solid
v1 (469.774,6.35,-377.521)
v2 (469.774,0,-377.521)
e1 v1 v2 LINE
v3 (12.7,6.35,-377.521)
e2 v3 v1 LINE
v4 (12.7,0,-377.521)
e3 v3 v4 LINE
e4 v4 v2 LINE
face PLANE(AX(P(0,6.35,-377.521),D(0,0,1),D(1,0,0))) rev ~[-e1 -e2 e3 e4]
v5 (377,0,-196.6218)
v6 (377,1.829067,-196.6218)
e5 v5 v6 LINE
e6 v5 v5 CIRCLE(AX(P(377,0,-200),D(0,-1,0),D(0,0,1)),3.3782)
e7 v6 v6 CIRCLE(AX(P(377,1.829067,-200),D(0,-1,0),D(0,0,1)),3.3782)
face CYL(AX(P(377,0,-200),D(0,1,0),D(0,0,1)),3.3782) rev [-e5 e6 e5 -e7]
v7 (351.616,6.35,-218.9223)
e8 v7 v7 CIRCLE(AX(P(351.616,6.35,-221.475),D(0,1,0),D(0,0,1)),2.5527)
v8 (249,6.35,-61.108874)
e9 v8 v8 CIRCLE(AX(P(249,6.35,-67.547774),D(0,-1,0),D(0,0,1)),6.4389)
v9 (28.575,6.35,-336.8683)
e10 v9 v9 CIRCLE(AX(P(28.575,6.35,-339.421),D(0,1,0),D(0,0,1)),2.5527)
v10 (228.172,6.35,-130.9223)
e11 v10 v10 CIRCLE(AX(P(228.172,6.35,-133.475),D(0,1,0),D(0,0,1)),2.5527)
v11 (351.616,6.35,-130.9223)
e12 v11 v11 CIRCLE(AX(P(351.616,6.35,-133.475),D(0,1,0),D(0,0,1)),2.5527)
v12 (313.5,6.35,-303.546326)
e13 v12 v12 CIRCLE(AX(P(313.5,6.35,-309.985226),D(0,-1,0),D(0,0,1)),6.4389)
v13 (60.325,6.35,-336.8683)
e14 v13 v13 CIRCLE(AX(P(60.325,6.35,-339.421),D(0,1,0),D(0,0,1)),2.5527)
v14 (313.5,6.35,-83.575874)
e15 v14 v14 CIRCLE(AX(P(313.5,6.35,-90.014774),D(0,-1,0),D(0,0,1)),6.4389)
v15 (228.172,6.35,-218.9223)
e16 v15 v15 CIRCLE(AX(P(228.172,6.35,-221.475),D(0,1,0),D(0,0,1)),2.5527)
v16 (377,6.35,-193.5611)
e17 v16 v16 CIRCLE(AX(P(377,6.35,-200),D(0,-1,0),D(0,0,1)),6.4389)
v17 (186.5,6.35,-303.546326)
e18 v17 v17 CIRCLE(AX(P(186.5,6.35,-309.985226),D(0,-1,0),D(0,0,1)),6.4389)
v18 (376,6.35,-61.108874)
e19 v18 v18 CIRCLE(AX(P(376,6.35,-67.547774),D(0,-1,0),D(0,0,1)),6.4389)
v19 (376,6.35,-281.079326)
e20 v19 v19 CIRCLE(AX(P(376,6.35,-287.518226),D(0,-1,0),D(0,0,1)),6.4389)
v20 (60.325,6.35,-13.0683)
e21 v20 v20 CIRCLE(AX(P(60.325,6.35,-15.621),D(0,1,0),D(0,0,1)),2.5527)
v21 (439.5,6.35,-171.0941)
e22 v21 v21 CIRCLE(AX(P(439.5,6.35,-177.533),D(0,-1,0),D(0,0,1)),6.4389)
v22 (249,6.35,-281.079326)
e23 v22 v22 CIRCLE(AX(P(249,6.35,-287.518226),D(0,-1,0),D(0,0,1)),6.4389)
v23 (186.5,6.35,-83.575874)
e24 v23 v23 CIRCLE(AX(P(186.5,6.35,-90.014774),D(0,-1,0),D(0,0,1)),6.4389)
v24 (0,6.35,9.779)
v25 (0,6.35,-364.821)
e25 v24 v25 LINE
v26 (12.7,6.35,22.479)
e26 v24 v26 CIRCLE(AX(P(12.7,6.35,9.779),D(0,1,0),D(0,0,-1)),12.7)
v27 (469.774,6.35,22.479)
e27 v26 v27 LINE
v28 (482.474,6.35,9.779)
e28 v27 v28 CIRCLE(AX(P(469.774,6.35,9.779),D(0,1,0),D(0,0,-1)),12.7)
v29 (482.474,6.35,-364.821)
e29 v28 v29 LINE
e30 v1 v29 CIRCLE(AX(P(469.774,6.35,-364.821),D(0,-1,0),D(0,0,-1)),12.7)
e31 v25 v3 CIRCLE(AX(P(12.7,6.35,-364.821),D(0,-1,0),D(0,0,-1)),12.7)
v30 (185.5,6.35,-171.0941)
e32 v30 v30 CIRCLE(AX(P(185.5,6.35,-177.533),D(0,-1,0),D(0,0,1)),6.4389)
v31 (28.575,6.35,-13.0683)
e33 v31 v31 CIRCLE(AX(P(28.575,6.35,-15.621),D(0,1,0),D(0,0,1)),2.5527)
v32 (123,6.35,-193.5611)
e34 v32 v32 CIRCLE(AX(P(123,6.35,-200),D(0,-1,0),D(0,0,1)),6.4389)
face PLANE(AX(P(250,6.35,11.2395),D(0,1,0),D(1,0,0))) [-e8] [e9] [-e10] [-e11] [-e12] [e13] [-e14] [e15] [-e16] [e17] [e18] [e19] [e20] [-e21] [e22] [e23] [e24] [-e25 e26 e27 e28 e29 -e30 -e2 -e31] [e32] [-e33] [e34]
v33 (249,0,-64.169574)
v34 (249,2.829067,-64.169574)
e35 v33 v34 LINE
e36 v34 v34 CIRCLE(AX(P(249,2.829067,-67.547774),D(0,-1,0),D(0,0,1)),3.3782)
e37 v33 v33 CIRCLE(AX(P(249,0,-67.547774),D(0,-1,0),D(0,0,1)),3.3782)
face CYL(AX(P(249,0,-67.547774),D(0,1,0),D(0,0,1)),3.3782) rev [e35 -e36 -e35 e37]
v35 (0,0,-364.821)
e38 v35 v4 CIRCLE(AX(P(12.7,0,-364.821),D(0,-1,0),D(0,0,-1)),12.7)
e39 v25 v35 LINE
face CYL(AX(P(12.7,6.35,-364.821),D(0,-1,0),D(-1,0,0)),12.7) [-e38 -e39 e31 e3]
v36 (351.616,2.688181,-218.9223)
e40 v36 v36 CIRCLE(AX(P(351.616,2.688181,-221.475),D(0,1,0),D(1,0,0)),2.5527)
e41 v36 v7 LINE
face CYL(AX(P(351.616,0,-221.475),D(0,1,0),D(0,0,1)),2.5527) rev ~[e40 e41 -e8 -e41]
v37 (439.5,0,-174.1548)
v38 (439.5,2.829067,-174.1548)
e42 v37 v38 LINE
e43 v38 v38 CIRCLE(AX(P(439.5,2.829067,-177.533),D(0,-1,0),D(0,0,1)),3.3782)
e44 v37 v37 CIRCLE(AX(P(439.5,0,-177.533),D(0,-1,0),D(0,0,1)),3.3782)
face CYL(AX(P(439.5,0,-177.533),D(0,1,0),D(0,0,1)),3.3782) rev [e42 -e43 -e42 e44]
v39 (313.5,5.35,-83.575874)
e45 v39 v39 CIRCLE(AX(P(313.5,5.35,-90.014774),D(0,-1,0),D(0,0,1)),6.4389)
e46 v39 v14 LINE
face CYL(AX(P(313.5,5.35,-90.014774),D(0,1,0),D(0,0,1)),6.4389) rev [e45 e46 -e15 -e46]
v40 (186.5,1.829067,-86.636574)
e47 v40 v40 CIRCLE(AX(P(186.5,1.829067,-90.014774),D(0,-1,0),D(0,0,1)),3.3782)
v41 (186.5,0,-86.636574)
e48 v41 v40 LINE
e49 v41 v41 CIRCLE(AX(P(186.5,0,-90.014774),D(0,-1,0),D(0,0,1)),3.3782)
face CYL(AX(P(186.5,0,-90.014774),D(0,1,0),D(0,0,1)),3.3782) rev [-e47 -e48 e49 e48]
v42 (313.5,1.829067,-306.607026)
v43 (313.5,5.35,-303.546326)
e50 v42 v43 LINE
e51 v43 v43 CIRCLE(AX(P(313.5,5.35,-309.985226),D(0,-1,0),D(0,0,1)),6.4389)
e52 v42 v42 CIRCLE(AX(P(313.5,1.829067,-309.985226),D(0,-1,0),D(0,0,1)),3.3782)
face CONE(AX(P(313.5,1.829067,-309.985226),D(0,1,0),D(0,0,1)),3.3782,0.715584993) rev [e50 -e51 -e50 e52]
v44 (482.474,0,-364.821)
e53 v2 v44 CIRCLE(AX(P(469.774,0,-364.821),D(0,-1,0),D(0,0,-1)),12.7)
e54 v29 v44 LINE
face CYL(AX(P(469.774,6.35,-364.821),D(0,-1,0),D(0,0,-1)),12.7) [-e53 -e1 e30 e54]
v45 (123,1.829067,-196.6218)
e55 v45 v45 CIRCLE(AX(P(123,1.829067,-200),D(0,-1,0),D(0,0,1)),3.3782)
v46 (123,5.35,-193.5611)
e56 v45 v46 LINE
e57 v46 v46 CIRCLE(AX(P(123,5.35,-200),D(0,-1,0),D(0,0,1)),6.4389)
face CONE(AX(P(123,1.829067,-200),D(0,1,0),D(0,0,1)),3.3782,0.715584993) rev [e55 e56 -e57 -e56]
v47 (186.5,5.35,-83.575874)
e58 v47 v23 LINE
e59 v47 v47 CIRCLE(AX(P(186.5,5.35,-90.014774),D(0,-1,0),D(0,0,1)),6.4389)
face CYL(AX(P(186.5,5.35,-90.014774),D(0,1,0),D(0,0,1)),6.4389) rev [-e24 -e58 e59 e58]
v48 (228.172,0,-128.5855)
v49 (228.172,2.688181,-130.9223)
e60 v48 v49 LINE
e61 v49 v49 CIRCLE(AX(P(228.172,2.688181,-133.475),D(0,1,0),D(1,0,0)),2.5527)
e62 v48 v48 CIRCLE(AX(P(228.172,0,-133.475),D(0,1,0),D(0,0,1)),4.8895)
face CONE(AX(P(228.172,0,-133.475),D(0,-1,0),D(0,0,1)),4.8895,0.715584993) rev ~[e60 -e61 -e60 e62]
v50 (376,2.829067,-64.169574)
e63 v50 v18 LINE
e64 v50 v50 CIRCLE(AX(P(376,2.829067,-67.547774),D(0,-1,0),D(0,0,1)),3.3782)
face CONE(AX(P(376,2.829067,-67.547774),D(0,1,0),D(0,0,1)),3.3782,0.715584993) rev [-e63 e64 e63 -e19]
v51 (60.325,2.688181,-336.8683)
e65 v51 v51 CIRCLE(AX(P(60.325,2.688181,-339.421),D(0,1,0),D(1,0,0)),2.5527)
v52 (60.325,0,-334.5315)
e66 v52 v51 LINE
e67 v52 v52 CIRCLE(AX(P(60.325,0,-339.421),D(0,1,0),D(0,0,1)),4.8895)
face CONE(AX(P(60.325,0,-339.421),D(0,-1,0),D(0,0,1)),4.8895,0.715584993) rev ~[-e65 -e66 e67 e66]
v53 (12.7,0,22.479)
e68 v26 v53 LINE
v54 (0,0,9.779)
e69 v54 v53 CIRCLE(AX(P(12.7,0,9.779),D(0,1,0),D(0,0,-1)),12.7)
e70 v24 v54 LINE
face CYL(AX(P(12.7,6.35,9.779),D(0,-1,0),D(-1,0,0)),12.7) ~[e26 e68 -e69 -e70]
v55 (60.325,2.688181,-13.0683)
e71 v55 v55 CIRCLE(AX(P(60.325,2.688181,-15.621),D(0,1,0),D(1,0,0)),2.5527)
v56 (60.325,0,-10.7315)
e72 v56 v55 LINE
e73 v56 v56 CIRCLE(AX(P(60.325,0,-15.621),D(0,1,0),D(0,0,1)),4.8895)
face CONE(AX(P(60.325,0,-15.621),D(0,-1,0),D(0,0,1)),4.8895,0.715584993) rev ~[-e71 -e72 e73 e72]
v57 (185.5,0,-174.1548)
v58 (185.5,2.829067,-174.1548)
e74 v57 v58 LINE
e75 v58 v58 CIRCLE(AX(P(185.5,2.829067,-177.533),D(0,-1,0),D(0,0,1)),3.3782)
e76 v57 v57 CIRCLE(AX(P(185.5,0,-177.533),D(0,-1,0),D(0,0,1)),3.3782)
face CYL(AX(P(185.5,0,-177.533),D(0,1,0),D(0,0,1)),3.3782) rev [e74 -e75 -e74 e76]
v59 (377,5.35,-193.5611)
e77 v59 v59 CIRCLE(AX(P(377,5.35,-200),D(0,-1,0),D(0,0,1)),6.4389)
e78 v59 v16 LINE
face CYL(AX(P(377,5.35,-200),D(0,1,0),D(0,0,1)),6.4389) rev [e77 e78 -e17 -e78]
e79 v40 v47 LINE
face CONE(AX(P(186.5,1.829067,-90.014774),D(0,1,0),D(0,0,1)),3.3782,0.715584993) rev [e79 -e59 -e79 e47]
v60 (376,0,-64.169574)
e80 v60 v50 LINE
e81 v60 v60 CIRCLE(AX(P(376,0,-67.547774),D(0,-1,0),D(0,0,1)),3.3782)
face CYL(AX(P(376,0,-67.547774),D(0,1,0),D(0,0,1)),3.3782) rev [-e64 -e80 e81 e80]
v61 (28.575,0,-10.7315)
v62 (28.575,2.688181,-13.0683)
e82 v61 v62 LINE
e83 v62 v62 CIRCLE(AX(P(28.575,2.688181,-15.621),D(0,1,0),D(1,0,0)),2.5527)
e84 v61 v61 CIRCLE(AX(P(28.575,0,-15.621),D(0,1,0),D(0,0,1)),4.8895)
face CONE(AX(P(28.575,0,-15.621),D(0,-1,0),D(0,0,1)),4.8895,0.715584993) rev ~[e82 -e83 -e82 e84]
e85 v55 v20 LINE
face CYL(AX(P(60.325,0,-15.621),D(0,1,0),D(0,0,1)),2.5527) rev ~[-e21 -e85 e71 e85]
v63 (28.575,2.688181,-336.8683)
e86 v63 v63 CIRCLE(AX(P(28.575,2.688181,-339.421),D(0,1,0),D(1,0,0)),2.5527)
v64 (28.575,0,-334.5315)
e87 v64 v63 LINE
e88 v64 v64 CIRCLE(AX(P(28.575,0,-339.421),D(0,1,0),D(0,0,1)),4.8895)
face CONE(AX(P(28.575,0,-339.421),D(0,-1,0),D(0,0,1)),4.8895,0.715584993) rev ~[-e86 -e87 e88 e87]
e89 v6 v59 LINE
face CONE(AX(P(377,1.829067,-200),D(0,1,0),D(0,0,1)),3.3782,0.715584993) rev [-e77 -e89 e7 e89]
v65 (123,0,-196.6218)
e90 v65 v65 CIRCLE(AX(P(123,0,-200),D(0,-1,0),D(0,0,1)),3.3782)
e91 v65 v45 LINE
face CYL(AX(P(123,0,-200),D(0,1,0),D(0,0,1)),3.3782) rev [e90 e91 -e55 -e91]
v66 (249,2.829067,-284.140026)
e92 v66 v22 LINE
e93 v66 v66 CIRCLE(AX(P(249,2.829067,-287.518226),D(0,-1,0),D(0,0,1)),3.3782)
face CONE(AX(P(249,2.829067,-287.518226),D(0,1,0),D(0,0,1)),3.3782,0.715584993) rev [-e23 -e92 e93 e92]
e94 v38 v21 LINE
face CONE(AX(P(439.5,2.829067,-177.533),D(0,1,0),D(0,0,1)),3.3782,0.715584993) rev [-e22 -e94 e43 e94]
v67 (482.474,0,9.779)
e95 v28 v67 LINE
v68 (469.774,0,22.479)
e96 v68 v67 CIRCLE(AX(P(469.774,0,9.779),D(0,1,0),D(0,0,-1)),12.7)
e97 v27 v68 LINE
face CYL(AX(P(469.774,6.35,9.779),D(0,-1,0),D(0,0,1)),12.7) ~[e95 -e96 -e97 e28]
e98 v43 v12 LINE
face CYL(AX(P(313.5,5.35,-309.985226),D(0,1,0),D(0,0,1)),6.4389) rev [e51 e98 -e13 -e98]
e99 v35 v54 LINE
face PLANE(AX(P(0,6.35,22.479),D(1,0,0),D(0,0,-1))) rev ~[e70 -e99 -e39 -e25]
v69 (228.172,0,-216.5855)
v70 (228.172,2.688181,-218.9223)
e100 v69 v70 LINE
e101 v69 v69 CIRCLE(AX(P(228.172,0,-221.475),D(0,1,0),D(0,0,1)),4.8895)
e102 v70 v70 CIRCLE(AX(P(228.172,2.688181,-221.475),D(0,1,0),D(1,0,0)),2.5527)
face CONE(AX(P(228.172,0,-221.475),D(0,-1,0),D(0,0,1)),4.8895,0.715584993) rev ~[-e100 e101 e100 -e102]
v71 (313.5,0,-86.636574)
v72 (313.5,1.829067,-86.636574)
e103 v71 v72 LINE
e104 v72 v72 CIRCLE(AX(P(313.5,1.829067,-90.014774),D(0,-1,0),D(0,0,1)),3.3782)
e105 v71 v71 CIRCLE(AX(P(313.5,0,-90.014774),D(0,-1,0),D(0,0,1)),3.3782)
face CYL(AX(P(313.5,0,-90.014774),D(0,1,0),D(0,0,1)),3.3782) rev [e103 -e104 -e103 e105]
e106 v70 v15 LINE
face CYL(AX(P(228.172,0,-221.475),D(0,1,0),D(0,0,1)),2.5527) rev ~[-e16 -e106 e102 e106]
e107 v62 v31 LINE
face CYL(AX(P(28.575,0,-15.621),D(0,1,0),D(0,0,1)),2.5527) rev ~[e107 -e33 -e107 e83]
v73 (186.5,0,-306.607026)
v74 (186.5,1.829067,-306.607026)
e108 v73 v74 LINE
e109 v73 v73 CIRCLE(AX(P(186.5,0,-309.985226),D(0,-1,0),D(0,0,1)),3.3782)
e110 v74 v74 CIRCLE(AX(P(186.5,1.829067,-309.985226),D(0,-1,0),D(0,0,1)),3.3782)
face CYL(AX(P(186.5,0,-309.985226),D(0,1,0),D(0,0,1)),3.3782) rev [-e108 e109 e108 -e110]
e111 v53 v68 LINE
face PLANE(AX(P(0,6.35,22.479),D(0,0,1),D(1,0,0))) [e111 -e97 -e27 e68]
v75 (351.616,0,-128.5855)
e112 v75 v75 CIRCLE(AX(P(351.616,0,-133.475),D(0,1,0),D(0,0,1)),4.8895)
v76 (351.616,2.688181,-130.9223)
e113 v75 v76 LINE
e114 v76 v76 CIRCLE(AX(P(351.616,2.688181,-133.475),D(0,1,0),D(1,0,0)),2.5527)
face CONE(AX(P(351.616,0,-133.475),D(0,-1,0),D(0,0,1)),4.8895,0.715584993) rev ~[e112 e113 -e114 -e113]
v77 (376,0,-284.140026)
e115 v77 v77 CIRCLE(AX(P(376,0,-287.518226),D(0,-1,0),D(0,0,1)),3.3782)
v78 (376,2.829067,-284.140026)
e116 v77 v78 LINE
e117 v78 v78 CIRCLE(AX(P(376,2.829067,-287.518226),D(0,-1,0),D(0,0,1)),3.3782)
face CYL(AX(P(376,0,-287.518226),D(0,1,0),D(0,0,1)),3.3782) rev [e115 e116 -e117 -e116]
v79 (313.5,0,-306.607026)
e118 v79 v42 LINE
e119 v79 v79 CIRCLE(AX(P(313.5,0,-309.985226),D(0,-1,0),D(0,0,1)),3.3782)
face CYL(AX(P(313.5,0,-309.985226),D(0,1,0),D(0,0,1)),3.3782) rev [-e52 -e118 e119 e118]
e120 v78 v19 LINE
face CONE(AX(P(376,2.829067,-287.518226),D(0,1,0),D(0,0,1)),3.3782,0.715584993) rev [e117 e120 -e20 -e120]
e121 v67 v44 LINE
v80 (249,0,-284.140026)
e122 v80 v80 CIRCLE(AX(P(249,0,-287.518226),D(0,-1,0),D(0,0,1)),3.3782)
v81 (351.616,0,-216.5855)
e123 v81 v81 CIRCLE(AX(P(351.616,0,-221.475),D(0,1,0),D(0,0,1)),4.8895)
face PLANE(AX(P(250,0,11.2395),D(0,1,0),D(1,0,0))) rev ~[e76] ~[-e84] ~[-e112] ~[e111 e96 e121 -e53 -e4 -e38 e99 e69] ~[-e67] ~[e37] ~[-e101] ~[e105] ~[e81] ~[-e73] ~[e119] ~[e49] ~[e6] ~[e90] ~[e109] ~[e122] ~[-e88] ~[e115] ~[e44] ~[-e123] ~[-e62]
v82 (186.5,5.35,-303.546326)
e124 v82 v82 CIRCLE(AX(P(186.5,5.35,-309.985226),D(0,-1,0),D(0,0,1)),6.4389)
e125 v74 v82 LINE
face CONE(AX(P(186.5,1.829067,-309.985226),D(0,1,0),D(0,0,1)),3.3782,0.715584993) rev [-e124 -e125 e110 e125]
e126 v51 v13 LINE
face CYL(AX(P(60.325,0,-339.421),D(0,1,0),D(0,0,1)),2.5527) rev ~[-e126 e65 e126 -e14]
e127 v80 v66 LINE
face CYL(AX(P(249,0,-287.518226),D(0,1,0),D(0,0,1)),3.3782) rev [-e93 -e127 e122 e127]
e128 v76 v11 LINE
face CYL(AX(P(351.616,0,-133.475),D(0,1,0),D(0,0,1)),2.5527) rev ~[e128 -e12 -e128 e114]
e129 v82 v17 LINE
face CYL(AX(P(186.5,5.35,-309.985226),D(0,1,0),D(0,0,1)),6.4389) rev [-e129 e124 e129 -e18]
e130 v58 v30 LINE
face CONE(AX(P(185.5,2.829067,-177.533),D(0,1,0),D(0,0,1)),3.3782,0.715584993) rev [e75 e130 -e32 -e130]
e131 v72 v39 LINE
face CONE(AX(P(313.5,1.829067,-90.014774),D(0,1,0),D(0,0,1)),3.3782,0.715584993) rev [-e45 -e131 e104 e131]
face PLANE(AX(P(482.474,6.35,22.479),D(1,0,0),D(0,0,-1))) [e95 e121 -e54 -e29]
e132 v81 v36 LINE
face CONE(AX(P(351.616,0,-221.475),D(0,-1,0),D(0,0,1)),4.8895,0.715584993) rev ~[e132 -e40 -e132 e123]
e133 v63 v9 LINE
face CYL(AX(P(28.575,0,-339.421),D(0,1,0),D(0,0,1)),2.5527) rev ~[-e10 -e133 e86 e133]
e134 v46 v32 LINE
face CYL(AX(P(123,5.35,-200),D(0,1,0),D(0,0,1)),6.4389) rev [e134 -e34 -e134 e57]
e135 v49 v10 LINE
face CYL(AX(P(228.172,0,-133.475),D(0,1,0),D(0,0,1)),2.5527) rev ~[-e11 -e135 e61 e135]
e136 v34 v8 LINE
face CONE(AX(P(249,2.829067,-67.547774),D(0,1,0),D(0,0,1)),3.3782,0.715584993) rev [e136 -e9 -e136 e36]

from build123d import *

# Parameters (mm, degrees)
SKETCH1_W                                       = 500
SKETCH1_H                                       = 400
BOSS_EXTRUDE1_DEPTH                             = 6.35
CSK_FOR_1_4_FLAT_HEAD_MACHINE_SCREW1_AT_COUNT   = 2
CSK_FOR_1_4_FLAT_HEAD_MACHINE_SCREW1_AT_PITCH   = 127
CSK_FOR_1_4_FLAT_HEAD_MACHINE_SCREW1_2_COUNT    = 2
CSK_FOR_1_4_FLAT_HEAD_MACHINE_SCREW1_2_PITCH    = 219.970452561
CSK_FOR_1_4_FLAT_HEAD_MACHINE_SCREW1_3_COUNT    = 2
CSK_FOR_1_4_FLAT_HEAD_MACHINE_SCREW1_3_PITCH    = 254
CSK_FOR_1_4_FLAT_HEAD_MACHINE_SCREW1_4_COUNT    = 2
CSK_FOR_1_4_FLAT_HEAD_MACHINE_SCREW1_4_PITCH    = 219.970452561
CSK_FOR_1_4_FLAT_HEAD_MACHINE_SCREW1_5_COUNT    = 2
CSK_FOR_1_4_FLAT_HEAD_MACHINE_SCREW1_5_PITCH    = 127
CSK_FOR_10_FLAT_HEAD_MACHINE_SCREW1_D           = 5.1054
CSK_FOR_10_FLAT_HEAD_MACHINE_SCREW1_CSINK_D     = 9.779
CSK_FOR_10_FLAT_HEAD_MACHINE_SCREW1_CSINK_ANGLE = 82
SKETCH12_W                                      = 500
SKETCH12_H                                      = 22.479
CUT_EXTRUDE2_DEPTH                              = 6.35
SKETCH13_W                                      = 500
SKETCH13_H                                      = 22.479
BOSS_EXTRUDE2_DEPTH                             = 6.35
CSK_FOR_10_FLAT_HEAD_MACHINE_SCREW2_D           = 5.1054
CSK_FOR_10_FLAT_HEAD_MACHINE_SCREW2_CSINK_D     = 9.779
CSK_FOR_10_FLAT_HEAD_MACHINE_SCREW2_CSINK_ANGLE = 82
SKETCH22_W                                      = 17.526
SKETCH22_H                                      = 400
CUT_EXTRUDE4_DEPTH                              = 10
FILLET1_R                                       = 12.7
CSK_FOR_1_4_FLAT_HEAD_MACHINE_SCREW2_AT_COUNT   = 2
CSK_FOR_1_4_FLAT_HEAD_MACHINE_SCREW2_AT_PITCH   = 127
CSK_FOR_1_4_FLAT_HEAD_MACHINE_SCREW2_2_COUNT    = 2
CSK_FOR_1_4_FLAT_HEAD_MACHINE_SCREW2_2_PITCH    = 219.970452561
CSK_FOR_1_4_FLAT_HEAD_MACHINE_SCREW2_3_COUNT    = 2
CSK_FOR_1_4_FLAT_HEAD_MACHINE_SCREW2_3_PITCH    = 254
CSK_FOR_1_4_FLAT_HEAD_MACHINE_SCREW2_4_COUNT    = 2
CSK_FOR_1_4_FLAT_HEAD_MACHINE_SCREW2_4_PITCH    = 219.970452561
CSK_FOR_1_4_FLAT_HEAD_MACHINE_SCREW2_5_COUNT    = 2
CSK_FOR_1_4_FLAT_HEAD_MACHINE_SCREW2_5_PITCH    = 127


with BuildPart() as part:
    # Sketch1 → Boss-Extrude1 (new body)
    with BuildSketch(Plane(origin=(0, 0, 0), x_dir=(1, 0, 0), z_dir=(0, 1, 0))):
        with Locations((250, 200)):
            Rectangle(SKETCH1_W, SKETCH1_H)
    extrude(amount=BOSS_EXTRUDE1_DEPTH)

    # Sketch3 → CSK for 1/4 Flat Head Machine Screw1 (revolve, cut)
    with BuildSketch(Plane(origin=(313.5, 6.35, -309.985226281), x_dir=(0, 0, 1), z_dir=(1, 0, 0))):
        Polygon((0, 0), (0, 6.35), (3.3782, 6.35), (3.3782, 4.520932584), (6.4389, 1), (6.4389, 0), align=None)
    csk_for_1_4_flat_head_machine_screw1 = revolve(axis=Axis((313.5, 12.7, -309.985226281), (0, -1, 0)), mode=Mode.SUBTRACT)

    # CSK for 1/4 Flat Head Machine Screw1 at: CSK for 1/4 Flat Head Machine Screw1 ×2
    with Locations(*[(-i * CSK_FOR_1_4_FLAT_HEAD_MACHINE_SCREW1_AT_PITCH, 0, 0) for i in range(1, CSK_FOR_1_4_FLAT_HEAD_MACHINE_SCREW1_AT_COUNT)]):
        add(csk_for_1_4_flat_head_machine_screw1, mode=Mode.SUBTRACT)

    # CSK for 1_4 Flat Head Machine Screw1 2: CSK for 1/4 Flat Head Machine Screw1 ×2
    with Locations(*[Vector(-0.866025403784438, 0, 0.5000000000000012) * (i * CSK_FOR_1_4_FLAT_HEAD_MACHINE_SCREW1_2_PITCH) for i in range(1, CSK_FOR_1_4_FLAT_HEAD_MACHINE_SCREW1_2_COUNT)]):
        add(csk_for_1_4_flat_head_machine_screw1, mode=Mode.SUBTRACT)

    # CSK for 1_4 Flat Head Machine Screw1 3: CSK for 1/4 Flat Head Machine Screw1 ×2
    with Locations(*[Vector(-0.49999999999999767, 0, 0.86602540378444) * (i * CSK_FOR_1_4_FLAT_HEAD_MACHINE_SCREW1_3_PITCH) for i in range(1, CSK_FOR_1_4_FLAT_HEAD_MACHINE_SCREW1_3_COUNT)]):
        add(csk_for_1_4_flat_head_machine_screw1, mode=Mode.SUBTRACT)

    # CSK for 1_4 Flat Head Machine Screw1 4: CSK for 1/4 Flat Head Machine Screw1 ×2
    with Locations(*[(0, 0, i * CSK_FOR_1_4_FLAT_HEAD_MACHINE_SCREW1_4_PITCH) for i in range(1, CSK_FOR_1_4_FLAT_HEAD_MACHINE_SCREW1_4_COUNT)]):
        add(csk_for_1_4_flat_head_machine_screw1, mode=Mode.SUBTRACT)

    # CSK for 1_4 Flat Head Machine Screw1 5: CSK for 1/4 Flat Head Machine Screw1 ×2
    with Locations(*[Vector(0.500000000000001, 0, 0.866025403784438) * (i * CSK_FOR_1_4_FLAT_HEAD_MACHINE_SCREW1_5_PITCH) for i in range(1, CSK_FOR_1_4_FLAT_HEAD_MACHINE_SCREW1_5_COUNT)]):
        add(csk_for_1_4_flat_head_machine_screw1, mode=Mode.SUBTRACT)

    # CSK for #10 Flat Head Machine Screw1 (through all)
    with Locations(Plane(origin=(351.616, 0, -133.475), x_dir=(0, 0, -1), z_dir=(0, -1, 0))):
        with Locations((0, 0), (88, 0), (88, -123.444), (0, -123.444)):
            CounterSinkHole(CSK_FOR_10_FLAT_HEAD_MACHINE_SCREW1_D / 2, CSK_FOR_10_FLAT_HEAD_MACHINE_SCREW1_CSINK_D / 2, counter_sink_angle=CSK_FOR_10_FLAT_HEAD_MACHINE_SCREW1_CSINK_ANGLE)

    # Sketch12 → Cut-Extrude2 (cut)
    with BuildSketch(Plane(origin=(0, 6.35, 0), x_dir=(1, 0, 0), z_dir=(0, 1, 0))):
        with Locations((250, 388.7605)):
            Rectangle(SKETCH12_W, SKETCH12_H)
    extrude(amount=-CUT_EXTRUDE2_DEPTH, mode=Mode.SUBTRACT)

    # Sketch13 → Boss-Extrude2 (add)
    with BuildSketch(Plane(origin=(0, 6.35, 0), x_dir=(1, 0, 0), z_dir=(0, 1, 0))):
        with Locations((250, -11.2395)):
            Rectangle(SKETCH13_W, SKETCH13_H)
    extrude(amount=-BOSS_EXTRUDE2_DEPTH)

    # CSK for #10 Flat Head Machine Screw2 (through all)
    with Locations(Plane(origin=(60.325, 0, -15.621), x_dir=(0, 0, -1), z_dir=(0, -1, 0))):
        with Locations((0, 0), (0, -31.75), (323.8, 0), (323.8, -31.75)):
            CounterSinkHole(CSK_FOR_10_FLAT_HEAD_MACHINE_SCREW2_D / 2, CSK_FOR_10_FLAT_HEAD_MACHINE_SCREW2_CSINK_D / 2, counter_sink_angle=CSK_FOR_10_FLAT_HEAD_MACHINE_SCREW2_CSINK_ANGLE)

    # Sketch22 → Cut-Extrude4 (cut)
    with BuildSketch(Plane(origin=(0, 6.35, 0), x_dir=(1, 0, 0), z_dir=(0, 1, 0))):
        with Locations((491.237, 177.521)):
            Rectangle(SKETCH22_W, SKETCH22_H)
    extrude(amount=-CUT_EXTRUDE4_DEPTH, mode=Mode.SUBTRACT)

    # Fillet1
    fillet1_edges = [part.edges().sort_by_distance(p)[0] for p in [
        (0, 3.175, 22.479),
        (482.474, 3.175, 22.479),
        (482.474, 3.175, -377.521),
        (0, 3.175, -377.521),
    ]]
    fillet(fillet1_edges, radius=FILLET1_R)

    # Sketch28 → CSK for 1/4 Flat Head Machine Screw2 (revolve, cut)
    with BuildSketch(Plane(origin=(249, 6.35, -287.518226281), x_dir=(0, 0, 1), z_dir=(1, 0, 0))):
        Polygon((0, 0), (0, 6.35), (3.3782, 6.35), (3.3782, 3.520932584), (6.4389, 0), align=None)
    csk_for_1_4_flat_head_machine_screw2 = revolve(axis=Axis((249, 12.7, -287.518226281), (0, -1, 0)), mode=Mode.SUBTRACT)

    # CSK for 1/4 Flat Head Machine Screw2 at: CSK for 1/4 Flat Head Machine Screw2 ×2
    with Locations(*[(i * CSK_FOR_1_4_FLAT_HEAD_MACHINE_SCREW2_AT_PITCH, 0, 0) for i in range(1, CSK_FOR_1_4_FLAT_HEAD_MACHINE_SCREW2_AT_COUNT)]):
        add(csk_for_1_4_flat_head_machine_screw2, mode=Mode.SUBTRACT)

    # CSK for 1_4 Flat Head Machine Screw2 2: CSK for 1/4 Flat Head Machine Screw2 ×2
    with Locations(*[Vector(0.8660254037844398, 0, 0.49999999999999795) * (i * CSK_FOR_1_4_FLAT_HEAD_MACHINE_SCREW2_2_PITCH) for i in range(1, CSK_FOR_1_4_FLAT_HEAD_MACHINE_SCREW2_2_COUNT)]):
        add(csk_for_1_4_flat_head_machine_screw2, mode=Mode.SUBTRACT)

    # CSK for 1_4 Flat Head Machine Screw2 3: CSK for 1/4 Flat Head Machine Screw2 ×2
    with Locations(*[Vector(0.5000000000000043, 0, 0.8660254037844363) * (i * CSK_FOR_1_4_FLAT_HEAD_MACHINE_SCREW2_3_PITCH) for i in range(1, CSK_FOR_1_4_FLAT_HEAD_MACHINE_SCREW2_3_COUNT)]):
        add(csk_for_1_4_flat_head_machine_screw2, mode=Mode.SUBTRACT)

    # CSK for 1_4 Flat Head Machine Screw2 4: CSK for 1/4 Flat Head Machine Screw2 ×2
    with Locations(*[(0, 0, i * CSK_FOR_1_4_FLAT_HEAD_MACHINE_SCREW2_4_PITCH) for i in range(1, CSK_FOR_1_4_FLAT_HEAD_MACHINE_SCREW2_4_COUNT)]):
        add(csk_for_1_4_flat_head_machine_screw2, mode=Mode.SUBTRACT)

    # CSK for 1_4 Flat Head Machine Screw2 5: CSK for 1/4 Flat Head Machine Screw2 ×2
    with Locations(*[Vector(-0.4999999999999978, 0, 0.86602540378444) * (i * CSK_FOR_1_4_FLAT_HEAD_MACHINE_SCREW2_5_PITCH) for i in range(1, CSK_FOR_1_4_FLAT_HEAD_MACHINE_SCREW2_5_COUNT)]):
        add(csk_for_1_4_flat_head_machine_screw2, mode=Mode.SUBTRACT)


solid = part.part
